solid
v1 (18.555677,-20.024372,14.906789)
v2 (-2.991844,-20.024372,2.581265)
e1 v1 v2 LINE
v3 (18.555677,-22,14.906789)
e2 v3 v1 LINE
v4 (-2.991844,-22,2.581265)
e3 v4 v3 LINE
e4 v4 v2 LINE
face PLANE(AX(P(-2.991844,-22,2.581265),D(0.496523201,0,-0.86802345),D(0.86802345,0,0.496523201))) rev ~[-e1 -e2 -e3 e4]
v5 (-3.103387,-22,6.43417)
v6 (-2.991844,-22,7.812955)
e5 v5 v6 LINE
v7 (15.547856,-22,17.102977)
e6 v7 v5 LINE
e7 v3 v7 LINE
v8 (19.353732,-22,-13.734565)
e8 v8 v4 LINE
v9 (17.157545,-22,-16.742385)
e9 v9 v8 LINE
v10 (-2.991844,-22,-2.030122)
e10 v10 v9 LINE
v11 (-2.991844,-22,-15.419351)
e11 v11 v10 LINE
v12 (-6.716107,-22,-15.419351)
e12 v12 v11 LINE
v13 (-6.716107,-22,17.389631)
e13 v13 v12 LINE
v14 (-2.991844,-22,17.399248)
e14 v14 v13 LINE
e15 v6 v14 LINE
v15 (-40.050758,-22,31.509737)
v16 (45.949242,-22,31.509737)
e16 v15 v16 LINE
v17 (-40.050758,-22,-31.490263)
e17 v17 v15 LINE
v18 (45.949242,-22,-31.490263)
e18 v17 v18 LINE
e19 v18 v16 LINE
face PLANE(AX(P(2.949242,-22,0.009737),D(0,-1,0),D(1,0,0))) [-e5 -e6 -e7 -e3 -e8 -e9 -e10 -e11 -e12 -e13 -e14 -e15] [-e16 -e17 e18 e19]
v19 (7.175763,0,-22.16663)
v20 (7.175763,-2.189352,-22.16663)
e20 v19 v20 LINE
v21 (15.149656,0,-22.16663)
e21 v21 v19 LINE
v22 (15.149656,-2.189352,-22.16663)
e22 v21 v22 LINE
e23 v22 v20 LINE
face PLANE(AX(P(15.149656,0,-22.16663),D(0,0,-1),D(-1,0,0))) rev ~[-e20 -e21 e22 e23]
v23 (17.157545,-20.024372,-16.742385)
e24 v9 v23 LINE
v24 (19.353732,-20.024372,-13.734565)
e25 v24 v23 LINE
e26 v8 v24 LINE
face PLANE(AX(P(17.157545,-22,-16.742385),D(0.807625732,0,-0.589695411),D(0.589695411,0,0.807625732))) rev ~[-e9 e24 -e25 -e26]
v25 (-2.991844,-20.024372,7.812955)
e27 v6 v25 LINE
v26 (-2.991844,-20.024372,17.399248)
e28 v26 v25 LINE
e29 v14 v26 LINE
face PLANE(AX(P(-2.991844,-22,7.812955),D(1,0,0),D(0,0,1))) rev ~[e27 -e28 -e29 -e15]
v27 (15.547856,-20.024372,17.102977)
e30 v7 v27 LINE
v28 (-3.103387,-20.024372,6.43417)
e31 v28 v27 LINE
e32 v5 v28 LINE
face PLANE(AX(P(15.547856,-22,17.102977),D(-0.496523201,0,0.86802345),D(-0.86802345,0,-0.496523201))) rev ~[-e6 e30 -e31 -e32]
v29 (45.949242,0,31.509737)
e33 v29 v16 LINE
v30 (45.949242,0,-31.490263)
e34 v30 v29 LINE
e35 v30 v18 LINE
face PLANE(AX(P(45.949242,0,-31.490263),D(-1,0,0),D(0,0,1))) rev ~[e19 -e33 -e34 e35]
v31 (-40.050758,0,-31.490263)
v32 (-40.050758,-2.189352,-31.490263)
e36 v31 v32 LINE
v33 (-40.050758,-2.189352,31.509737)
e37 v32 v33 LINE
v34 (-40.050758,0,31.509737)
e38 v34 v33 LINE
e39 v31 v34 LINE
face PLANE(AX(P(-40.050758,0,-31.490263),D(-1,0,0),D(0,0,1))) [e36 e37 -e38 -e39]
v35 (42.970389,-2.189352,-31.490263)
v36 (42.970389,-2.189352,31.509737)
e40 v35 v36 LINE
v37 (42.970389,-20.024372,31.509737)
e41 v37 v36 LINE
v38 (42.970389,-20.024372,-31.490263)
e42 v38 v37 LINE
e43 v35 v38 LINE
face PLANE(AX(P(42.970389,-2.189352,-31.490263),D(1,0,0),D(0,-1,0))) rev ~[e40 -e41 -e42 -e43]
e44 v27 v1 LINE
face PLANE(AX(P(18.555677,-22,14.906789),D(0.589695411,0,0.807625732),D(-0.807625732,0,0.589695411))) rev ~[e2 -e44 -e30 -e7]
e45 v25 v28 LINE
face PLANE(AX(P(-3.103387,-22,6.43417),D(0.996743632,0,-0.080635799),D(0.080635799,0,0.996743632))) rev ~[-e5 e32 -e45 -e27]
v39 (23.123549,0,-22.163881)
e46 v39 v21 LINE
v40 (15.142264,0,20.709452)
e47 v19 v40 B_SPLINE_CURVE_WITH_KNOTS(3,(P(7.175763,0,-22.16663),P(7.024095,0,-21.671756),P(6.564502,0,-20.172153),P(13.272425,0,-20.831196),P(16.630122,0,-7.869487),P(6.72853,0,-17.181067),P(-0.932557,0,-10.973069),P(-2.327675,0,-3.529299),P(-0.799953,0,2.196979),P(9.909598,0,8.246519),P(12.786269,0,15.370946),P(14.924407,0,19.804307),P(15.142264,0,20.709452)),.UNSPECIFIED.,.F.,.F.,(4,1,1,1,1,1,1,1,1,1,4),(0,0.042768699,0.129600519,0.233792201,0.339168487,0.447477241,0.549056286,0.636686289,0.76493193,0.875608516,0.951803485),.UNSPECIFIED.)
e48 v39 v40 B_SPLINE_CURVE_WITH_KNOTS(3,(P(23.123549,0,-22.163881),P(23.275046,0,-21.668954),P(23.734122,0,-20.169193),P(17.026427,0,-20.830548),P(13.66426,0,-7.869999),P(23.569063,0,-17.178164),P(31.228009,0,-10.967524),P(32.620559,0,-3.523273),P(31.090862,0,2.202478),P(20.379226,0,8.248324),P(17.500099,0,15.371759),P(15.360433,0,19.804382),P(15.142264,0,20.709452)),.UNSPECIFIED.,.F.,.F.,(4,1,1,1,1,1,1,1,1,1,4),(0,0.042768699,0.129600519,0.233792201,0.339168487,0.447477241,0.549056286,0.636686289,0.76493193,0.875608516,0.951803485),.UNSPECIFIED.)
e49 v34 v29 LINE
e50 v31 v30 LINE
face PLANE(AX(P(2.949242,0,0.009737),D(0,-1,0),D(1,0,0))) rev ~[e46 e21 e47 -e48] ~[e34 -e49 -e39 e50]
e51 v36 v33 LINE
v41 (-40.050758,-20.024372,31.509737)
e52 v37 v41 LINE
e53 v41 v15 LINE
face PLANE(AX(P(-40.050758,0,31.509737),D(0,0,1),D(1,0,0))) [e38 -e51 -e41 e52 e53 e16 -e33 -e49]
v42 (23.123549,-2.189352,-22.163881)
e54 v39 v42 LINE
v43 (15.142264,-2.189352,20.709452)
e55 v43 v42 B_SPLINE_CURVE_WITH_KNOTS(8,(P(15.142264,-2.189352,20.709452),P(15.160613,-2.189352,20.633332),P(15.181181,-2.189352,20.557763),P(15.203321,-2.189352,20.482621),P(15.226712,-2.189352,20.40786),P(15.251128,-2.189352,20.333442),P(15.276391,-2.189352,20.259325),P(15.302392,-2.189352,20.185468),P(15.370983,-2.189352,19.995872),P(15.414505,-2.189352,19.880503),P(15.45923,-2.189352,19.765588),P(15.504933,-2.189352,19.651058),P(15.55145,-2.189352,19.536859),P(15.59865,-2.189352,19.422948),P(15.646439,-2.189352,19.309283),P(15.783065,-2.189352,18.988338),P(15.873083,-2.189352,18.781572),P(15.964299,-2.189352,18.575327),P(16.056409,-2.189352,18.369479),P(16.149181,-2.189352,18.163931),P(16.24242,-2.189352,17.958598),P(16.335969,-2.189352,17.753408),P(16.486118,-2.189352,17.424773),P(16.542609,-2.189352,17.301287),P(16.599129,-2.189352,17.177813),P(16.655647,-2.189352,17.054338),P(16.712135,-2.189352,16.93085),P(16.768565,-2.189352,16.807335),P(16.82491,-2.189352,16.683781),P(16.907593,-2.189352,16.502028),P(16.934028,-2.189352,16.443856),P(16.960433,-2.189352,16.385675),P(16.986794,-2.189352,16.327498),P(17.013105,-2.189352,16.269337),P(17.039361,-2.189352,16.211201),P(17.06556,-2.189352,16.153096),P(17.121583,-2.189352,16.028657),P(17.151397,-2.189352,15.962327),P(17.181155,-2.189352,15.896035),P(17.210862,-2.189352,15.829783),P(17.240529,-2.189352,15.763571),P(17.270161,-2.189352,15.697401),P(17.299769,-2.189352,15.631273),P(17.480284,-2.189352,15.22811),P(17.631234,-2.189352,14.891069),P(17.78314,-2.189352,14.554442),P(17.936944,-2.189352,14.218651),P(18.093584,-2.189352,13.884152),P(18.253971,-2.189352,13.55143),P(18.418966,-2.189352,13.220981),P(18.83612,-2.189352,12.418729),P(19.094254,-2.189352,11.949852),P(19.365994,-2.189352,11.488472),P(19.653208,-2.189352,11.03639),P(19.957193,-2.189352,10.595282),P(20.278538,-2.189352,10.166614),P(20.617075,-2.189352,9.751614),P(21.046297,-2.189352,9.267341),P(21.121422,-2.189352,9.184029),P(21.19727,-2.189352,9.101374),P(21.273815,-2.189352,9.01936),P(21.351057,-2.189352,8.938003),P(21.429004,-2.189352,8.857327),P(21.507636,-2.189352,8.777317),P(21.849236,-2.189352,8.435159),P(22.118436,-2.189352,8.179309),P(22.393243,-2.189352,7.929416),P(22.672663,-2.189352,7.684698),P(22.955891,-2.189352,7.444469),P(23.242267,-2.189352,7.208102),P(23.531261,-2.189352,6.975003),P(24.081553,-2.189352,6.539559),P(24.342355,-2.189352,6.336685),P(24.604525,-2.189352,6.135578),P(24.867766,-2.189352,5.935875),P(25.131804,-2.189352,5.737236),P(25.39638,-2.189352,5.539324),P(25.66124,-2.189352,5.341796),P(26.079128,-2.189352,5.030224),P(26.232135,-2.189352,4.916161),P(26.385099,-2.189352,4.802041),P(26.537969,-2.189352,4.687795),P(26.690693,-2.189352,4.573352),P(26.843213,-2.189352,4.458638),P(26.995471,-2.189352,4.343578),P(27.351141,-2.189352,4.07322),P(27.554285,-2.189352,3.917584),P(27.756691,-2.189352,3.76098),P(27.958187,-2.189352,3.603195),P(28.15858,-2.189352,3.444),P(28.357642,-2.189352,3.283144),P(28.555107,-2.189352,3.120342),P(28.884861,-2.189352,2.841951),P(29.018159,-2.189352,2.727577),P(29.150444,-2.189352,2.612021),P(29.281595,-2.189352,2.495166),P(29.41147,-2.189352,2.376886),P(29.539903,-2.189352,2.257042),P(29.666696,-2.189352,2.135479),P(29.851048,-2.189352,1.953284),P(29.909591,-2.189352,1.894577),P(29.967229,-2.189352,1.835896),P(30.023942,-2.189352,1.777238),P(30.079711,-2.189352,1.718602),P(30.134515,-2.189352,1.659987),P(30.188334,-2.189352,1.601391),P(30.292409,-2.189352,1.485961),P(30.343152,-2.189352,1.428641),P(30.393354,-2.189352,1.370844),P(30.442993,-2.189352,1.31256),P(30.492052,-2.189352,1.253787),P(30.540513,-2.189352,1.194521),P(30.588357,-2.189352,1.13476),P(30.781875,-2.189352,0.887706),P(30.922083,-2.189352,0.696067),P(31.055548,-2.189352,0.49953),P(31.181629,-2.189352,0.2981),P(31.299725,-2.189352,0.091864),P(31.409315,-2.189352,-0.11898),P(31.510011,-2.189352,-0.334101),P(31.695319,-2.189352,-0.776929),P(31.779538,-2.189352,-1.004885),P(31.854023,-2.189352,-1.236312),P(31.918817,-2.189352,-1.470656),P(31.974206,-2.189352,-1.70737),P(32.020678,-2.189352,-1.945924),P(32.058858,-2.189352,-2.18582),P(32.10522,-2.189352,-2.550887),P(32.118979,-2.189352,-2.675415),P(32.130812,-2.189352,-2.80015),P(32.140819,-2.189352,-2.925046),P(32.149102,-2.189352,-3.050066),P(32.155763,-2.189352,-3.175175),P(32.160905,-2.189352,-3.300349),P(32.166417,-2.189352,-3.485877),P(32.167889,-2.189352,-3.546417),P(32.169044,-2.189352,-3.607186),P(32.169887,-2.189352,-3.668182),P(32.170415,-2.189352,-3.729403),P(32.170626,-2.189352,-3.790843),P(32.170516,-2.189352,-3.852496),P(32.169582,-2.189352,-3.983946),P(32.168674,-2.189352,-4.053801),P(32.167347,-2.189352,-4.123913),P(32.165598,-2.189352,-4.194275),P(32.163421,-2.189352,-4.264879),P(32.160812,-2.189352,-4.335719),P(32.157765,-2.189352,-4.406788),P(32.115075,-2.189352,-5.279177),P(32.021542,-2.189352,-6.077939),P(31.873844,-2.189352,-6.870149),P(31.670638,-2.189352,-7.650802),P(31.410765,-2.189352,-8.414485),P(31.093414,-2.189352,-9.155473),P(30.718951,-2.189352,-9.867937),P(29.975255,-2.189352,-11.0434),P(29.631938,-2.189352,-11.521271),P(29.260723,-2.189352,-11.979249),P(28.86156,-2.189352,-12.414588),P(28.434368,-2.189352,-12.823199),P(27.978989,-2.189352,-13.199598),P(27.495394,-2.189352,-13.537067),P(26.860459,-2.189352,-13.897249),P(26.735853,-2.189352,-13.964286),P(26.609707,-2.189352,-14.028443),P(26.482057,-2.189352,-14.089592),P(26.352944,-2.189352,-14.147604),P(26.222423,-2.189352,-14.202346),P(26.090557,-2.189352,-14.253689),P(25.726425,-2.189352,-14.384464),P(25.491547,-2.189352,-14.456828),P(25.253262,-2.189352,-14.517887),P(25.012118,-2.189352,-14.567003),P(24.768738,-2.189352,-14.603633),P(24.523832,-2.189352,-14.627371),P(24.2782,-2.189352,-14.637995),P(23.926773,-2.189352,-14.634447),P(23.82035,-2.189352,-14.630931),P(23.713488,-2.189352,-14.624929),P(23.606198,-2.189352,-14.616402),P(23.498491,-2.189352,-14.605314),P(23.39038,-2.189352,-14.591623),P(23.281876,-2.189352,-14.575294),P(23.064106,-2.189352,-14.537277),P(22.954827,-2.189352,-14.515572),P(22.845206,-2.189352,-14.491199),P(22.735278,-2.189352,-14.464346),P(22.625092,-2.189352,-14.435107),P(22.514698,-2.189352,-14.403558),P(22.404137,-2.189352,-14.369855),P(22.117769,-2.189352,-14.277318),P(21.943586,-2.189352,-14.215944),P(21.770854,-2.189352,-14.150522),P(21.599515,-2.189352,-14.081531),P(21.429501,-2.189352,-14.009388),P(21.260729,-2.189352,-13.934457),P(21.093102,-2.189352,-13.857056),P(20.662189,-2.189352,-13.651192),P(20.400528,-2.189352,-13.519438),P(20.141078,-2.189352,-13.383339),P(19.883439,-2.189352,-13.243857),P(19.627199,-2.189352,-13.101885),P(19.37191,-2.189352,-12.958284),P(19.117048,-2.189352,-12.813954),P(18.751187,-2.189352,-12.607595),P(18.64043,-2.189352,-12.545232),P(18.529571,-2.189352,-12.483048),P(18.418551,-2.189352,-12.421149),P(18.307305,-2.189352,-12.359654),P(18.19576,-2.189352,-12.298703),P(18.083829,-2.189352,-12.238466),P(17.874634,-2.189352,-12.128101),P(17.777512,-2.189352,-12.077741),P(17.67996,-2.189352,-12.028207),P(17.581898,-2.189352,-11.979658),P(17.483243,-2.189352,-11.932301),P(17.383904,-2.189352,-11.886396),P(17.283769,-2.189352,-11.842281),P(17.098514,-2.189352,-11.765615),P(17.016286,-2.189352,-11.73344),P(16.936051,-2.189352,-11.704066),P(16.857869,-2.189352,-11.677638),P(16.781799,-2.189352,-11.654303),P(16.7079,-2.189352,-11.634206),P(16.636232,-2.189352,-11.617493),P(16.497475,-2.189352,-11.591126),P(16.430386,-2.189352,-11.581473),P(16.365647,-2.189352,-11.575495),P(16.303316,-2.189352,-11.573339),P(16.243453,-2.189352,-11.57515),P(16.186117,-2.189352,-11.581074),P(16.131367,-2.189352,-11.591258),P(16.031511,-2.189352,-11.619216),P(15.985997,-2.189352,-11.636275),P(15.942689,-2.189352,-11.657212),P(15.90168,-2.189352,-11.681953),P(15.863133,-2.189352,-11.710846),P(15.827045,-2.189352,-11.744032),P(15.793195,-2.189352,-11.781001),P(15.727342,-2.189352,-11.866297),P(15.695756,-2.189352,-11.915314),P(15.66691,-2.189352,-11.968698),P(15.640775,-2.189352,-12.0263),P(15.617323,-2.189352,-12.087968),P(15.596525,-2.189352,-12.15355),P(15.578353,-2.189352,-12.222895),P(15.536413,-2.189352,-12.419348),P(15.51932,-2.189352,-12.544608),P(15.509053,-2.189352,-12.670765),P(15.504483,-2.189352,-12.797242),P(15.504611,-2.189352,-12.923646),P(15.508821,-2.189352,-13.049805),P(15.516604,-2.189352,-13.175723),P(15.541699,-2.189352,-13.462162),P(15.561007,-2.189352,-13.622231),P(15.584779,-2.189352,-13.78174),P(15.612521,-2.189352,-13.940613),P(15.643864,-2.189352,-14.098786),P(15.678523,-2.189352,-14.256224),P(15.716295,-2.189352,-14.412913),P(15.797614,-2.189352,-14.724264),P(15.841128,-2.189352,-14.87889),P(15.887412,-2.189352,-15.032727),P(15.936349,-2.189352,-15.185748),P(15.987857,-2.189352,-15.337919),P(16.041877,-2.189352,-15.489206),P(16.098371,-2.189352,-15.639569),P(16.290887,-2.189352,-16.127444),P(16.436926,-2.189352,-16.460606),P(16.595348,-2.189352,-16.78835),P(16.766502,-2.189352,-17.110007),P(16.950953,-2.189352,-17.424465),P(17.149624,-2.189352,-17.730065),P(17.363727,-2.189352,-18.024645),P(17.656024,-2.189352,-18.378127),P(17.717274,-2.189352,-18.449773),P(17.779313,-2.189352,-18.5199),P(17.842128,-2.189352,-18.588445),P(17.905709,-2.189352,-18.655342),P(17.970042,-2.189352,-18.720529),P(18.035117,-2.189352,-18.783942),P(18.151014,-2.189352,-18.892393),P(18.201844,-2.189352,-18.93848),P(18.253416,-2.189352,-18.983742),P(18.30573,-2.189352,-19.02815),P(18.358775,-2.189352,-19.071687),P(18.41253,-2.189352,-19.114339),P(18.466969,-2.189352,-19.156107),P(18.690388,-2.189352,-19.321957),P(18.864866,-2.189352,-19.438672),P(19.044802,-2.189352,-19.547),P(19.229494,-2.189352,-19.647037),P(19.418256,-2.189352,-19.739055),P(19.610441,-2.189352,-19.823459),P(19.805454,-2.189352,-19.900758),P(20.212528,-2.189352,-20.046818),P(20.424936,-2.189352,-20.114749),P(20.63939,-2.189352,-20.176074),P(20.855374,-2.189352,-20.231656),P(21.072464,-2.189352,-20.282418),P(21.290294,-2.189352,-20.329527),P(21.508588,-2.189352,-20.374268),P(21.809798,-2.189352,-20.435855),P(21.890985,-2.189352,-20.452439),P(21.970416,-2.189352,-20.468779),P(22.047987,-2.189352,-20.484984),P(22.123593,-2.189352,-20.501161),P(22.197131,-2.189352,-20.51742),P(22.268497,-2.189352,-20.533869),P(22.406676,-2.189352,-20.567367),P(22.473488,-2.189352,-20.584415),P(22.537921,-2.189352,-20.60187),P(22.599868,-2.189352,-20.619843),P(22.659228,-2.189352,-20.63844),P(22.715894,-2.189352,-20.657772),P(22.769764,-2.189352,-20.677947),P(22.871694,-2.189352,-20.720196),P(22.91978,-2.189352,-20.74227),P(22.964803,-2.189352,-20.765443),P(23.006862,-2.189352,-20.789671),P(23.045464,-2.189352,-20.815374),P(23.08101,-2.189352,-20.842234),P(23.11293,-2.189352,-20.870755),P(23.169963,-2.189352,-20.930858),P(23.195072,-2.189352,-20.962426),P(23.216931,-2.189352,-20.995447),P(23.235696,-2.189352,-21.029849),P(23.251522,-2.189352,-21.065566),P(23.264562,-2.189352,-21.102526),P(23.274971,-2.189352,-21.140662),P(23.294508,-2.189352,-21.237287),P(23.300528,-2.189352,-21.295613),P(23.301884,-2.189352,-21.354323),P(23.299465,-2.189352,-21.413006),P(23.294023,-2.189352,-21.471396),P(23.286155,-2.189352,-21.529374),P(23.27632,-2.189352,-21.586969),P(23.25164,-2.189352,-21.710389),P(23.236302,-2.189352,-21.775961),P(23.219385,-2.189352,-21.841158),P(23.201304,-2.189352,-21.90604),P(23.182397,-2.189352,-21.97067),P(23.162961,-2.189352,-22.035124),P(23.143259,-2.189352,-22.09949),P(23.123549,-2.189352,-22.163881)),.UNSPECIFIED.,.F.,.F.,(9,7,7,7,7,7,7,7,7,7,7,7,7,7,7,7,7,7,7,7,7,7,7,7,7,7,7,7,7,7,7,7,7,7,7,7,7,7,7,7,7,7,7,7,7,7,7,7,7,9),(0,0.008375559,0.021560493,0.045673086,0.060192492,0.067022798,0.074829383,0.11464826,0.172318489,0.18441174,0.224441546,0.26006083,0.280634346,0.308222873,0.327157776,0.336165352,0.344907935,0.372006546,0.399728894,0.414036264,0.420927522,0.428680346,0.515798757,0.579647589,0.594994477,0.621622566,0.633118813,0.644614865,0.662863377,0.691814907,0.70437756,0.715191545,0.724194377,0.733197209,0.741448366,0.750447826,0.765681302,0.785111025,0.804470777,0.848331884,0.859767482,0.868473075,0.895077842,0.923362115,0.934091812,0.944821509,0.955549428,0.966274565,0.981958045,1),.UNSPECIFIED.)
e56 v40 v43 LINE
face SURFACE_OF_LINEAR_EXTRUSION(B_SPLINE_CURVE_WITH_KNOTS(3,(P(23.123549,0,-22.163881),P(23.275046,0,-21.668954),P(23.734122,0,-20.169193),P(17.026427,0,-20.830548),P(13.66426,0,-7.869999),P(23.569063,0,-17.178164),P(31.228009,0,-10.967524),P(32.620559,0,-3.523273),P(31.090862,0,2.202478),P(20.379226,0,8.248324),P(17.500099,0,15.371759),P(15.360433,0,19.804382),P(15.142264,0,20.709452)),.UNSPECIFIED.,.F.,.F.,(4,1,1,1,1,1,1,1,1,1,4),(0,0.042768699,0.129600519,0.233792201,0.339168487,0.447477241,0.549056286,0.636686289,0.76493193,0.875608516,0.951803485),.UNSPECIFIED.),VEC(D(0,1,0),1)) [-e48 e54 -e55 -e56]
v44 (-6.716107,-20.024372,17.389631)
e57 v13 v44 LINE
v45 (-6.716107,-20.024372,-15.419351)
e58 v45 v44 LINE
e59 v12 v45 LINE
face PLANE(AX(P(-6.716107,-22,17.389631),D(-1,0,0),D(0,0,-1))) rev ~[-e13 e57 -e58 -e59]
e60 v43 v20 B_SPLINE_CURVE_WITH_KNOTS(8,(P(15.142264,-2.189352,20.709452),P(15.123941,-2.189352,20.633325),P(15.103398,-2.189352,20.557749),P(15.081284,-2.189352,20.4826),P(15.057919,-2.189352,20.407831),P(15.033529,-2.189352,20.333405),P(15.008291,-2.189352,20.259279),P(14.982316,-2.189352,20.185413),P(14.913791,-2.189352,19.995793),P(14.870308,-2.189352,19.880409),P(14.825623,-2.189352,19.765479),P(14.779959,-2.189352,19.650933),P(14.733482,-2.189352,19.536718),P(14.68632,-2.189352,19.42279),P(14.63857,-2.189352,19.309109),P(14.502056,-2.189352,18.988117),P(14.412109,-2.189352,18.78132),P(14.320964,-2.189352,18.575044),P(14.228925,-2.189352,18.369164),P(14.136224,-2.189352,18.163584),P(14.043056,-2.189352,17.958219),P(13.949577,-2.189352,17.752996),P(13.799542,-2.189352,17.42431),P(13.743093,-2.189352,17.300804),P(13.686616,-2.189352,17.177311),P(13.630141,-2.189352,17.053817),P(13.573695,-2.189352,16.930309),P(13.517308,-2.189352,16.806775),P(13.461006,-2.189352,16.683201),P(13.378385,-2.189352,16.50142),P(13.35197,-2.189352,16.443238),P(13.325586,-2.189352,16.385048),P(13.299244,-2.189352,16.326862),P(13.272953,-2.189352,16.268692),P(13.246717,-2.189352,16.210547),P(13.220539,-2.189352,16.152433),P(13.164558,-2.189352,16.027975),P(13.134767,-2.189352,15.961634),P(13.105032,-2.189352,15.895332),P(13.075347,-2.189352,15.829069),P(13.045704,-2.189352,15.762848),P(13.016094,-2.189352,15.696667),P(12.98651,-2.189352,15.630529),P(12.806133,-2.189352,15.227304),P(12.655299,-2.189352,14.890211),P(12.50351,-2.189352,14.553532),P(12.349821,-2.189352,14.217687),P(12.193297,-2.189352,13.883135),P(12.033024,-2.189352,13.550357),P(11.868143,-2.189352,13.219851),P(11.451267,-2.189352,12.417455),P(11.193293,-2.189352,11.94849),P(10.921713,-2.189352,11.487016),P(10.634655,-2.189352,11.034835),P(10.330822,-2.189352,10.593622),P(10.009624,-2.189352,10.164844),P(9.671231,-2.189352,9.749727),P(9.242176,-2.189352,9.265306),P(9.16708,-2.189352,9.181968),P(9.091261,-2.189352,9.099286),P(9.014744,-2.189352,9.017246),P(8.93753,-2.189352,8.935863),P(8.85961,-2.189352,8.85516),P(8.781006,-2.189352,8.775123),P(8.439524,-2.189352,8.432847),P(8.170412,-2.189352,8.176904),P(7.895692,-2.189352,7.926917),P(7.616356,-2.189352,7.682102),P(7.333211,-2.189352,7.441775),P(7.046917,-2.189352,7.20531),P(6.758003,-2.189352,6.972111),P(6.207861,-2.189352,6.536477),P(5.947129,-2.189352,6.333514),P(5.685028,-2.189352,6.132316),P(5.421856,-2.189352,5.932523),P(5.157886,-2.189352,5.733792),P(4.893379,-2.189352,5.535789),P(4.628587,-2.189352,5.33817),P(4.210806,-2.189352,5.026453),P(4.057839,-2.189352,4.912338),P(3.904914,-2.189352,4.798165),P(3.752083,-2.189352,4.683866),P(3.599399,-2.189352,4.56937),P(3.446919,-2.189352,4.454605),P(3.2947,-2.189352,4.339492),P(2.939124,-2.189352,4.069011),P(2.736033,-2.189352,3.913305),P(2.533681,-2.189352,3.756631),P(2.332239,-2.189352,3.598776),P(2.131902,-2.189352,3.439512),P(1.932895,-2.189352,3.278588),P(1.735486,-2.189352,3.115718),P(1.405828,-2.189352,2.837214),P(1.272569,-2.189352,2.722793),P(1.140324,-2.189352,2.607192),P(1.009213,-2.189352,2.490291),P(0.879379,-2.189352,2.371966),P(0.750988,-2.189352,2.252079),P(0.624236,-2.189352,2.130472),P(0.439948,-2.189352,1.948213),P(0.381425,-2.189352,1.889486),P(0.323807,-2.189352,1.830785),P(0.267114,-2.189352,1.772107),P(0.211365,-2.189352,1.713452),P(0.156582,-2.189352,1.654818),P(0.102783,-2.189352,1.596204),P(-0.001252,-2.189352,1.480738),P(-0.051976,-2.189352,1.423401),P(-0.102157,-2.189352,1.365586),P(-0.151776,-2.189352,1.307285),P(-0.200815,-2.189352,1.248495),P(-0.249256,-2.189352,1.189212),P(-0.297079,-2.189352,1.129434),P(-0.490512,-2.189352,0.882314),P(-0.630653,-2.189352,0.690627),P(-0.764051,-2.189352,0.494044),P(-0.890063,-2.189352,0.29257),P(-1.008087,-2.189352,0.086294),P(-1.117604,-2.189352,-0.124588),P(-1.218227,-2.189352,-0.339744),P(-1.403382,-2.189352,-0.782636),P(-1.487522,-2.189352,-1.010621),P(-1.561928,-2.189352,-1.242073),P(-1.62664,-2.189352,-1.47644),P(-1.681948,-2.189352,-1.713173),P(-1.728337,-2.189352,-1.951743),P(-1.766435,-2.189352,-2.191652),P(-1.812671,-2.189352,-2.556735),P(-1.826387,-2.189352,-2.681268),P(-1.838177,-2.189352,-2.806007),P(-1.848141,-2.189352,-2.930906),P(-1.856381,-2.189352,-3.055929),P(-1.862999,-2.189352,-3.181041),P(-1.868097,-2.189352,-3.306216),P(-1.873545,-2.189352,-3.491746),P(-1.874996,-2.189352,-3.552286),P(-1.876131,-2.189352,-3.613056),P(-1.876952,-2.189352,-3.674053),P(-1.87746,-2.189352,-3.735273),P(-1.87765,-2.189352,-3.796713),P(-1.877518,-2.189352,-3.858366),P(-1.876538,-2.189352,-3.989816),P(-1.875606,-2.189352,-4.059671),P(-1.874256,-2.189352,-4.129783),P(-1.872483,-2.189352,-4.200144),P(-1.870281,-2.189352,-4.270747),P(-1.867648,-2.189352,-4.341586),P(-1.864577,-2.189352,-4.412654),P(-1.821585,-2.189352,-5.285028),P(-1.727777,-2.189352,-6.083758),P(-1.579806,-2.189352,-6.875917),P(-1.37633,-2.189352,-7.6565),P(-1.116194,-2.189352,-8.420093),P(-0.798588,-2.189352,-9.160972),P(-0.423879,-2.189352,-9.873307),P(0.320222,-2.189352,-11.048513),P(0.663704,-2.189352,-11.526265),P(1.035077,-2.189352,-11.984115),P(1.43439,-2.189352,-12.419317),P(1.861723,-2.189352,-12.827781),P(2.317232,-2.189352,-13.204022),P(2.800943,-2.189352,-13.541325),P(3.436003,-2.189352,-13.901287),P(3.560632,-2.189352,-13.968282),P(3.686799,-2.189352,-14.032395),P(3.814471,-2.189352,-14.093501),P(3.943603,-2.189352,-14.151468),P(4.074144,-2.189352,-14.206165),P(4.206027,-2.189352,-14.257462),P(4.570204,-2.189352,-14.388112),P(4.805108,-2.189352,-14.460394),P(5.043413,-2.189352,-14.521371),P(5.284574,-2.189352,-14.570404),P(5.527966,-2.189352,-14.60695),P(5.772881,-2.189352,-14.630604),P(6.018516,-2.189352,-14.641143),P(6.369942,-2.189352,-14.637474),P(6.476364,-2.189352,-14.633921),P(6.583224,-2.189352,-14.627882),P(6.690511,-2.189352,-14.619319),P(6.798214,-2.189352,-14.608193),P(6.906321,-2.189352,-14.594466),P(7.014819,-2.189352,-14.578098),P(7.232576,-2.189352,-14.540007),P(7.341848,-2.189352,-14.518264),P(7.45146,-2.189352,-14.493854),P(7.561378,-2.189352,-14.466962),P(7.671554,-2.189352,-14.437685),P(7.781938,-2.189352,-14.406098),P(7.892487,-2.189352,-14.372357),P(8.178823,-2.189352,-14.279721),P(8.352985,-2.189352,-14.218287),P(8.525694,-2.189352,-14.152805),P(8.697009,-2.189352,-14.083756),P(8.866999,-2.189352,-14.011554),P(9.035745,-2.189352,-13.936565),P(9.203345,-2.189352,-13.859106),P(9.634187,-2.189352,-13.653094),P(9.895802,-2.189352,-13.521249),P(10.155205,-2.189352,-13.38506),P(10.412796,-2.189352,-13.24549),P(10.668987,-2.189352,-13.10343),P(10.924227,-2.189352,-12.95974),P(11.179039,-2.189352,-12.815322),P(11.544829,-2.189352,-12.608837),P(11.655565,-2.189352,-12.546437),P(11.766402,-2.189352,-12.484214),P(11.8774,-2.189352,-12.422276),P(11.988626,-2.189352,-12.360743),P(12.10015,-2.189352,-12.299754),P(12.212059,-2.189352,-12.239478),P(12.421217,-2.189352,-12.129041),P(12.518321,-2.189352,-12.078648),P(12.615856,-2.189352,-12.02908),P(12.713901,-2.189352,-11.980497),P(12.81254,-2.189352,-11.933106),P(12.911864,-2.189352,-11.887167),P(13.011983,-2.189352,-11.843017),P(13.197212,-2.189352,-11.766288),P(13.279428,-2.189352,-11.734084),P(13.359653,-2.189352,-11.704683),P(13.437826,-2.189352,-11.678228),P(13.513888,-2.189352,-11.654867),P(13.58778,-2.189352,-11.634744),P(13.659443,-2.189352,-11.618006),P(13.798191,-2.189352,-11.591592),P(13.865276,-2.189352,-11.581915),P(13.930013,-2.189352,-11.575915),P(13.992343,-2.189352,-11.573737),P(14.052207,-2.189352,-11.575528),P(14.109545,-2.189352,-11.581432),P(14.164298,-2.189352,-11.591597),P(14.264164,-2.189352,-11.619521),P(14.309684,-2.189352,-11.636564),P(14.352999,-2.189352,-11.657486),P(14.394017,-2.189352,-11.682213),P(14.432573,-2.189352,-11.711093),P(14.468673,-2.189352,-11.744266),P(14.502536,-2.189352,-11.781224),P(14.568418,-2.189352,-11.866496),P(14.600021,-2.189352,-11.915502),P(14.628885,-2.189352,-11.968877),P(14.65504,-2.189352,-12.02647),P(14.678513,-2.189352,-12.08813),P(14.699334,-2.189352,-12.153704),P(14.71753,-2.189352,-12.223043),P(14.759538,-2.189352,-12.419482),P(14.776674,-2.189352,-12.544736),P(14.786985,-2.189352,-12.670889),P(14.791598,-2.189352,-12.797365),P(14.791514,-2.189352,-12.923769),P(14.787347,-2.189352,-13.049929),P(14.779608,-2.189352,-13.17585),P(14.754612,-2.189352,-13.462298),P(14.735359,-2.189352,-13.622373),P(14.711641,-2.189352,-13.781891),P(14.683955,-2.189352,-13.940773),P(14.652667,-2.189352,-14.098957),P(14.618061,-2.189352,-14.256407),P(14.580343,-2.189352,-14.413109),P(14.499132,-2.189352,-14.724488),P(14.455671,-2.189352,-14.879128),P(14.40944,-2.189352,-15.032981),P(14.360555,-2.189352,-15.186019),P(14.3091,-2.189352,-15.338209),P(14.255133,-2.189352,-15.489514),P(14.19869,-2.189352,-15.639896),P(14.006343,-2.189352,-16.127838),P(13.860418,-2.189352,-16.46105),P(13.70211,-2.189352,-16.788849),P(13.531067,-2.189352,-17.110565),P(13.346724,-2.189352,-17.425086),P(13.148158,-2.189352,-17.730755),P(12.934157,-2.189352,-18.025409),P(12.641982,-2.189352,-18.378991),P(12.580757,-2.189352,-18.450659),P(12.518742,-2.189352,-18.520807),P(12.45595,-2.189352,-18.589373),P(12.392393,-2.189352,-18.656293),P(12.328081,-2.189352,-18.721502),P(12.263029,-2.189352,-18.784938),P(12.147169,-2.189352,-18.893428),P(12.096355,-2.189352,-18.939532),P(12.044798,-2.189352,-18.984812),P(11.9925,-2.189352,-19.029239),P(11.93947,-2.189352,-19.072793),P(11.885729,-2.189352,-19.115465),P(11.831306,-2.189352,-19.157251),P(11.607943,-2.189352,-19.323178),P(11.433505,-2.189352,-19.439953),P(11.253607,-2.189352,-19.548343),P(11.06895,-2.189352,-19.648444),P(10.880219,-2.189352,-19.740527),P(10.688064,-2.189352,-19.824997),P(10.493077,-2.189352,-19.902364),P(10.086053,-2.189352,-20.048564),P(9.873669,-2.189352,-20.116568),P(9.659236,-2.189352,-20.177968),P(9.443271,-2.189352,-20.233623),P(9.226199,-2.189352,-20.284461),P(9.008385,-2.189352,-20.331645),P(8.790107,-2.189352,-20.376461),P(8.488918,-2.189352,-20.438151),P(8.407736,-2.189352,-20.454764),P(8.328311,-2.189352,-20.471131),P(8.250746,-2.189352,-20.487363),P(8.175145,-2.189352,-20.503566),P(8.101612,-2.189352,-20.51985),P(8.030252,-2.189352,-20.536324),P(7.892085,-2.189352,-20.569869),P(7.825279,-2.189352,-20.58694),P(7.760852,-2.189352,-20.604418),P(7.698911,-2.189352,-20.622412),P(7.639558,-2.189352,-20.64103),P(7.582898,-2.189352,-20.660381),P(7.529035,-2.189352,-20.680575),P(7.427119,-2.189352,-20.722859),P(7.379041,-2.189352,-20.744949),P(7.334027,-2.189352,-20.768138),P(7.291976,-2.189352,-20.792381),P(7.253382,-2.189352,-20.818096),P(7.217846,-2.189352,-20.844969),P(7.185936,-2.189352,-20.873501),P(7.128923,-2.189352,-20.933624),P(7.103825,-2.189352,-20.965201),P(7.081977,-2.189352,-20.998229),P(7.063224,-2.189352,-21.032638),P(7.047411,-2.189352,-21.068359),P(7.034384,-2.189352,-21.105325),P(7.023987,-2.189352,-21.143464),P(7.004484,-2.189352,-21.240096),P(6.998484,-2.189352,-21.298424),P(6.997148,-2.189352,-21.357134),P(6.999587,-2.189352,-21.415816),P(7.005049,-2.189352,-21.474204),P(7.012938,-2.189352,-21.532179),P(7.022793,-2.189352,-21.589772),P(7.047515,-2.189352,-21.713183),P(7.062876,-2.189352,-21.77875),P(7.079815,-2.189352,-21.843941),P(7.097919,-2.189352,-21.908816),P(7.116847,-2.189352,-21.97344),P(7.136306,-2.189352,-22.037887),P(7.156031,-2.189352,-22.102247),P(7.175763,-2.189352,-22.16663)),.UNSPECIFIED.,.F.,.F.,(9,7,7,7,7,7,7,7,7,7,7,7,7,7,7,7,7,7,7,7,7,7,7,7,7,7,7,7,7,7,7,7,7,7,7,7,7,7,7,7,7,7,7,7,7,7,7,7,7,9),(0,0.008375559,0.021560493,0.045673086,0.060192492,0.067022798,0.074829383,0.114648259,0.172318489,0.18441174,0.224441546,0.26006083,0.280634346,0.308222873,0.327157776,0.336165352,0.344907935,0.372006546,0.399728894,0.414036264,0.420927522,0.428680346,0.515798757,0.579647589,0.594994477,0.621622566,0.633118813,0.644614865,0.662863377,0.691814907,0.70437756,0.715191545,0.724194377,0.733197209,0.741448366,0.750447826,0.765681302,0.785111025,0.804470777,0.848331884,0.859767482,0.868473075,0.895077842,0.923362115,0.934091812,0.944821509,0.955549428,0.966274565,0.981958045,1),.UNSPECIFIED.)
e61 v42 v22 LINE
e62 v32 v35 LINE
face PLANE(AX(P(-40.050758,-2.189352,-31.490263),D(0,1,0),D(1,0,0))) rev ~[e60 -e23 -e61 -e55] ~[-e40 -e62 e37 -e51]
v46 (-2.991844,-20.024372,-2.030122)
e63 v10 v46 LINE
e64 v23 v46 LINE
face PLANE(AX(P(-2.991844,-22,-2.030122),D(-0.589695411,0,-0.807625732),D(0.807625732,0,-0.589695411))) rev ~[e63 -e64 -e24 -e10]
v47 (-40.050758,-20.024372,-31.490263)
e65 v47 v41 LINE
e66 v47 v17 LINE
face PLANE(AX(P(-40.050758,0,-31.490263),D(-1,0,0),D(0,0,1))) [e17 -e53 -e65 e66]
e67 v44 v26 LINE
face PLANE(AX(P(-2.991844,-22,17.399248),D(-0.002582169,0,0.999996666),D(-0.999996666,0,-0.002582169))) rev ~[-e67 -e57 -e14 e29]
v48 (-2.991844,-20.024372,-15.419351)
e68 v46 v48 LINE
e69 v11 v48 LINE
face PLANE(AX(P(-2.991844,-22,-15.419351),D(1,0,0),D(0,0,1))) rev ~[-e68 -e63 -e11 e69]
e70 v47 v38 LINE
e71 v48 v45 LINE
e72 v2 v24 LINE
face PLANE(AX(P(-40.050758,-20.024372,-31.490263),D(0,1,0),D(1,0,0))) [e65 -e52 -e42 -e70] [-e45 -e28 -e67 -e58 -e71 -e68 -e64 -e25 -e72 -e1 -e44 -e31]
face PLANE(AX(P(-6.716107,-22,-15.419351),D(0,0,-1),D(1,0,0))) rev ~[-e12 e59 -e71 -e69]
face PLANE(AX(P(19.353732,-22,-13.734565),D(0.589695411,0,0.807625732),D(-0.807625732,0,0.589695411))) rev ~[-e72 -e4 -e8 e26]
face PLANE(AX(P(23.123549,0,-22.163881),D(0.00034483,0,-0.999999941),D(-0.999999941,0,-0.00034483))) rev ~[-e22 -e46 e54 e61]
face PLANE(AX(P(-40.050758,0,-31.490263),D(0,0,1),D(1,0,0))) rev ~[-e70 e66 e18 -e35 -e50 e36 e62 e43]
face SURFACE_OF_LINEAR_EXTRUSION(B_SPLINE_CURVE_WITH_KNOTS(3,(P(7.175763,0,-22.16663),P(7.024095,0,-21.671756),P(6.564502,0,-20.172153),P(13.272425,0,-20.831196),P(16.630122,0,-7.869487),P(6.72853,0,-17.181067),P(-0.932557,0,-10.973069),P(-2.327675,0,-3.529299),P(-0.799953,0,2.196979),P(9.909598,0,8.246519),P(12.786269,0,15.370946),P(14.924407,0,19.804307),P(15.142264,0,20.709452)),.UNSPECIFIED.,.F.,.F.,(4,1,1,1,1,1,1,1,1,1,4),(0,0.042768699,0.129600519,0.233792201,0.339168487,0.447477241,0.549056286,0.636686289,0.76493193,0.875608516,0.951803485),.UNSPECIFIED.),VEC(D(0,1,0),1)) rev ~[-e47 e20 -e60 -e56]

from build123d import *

# Parameters (mm, degrees)
F0_W     = 86
F0_H     = 63
F1_DEPTH = 22
F2_W     = 83.021147579
F2_H     = 17.8350203205
F3_DEPTH = 76.2
F5_DEPTH = 12.7
F7_DEPTH = 12.7


with BuildPart() as f1:
    # F0 (on Front) → F1 (new body)
    with BuildSketch(Plane.XZ):
        with Locations((2.9492415488, 0.0097374022)):
            Rectangle(F0_W, F0_H)
    extrude(amount=F1_DEPTH)

    # F2 (on face) → F3 (cut)
    with BuildSketch(Plane(origin=(0, 0, -31.4902625978), x_dir=(1, 0, 0), z_dir=(0, 0, -1))):
        with Locations((1.4598153383, 11.1068621045)):
            Rectangle(F2_W, F2_H)
    extrude(amount=-F3_DEPTH, mode=Mode.SUBTRACT)

    # F4 (on face) → F5 (cut)
    with BuildSketch(Plane(origin=(0, 0, 0), x_dir=(-1, 0, 0), z_dir=(0, 1, 0))):
        with BuildLine():
            Line((-15.1422635311, 20.7094521857), (-15.1496560163, -22.1666304386))
            Line((-15.1496560163, -22.1666304386), (-7.1757626719, -22.1666304386))
            add(Edge.make_bspline(
                [(-7.1757626719, -22.1666304386), (-7.0240950899, -21.6717555888), (-6.5645020254, -20.1721533291), (-13.2724247258, -20.8311956332), (-16.6301221041, -7.869487451), (-6.7285296104, -17.1810672319), (0.9325573177, -10.9730690732), (2.3276751638, -3.5292990134), (0.7999525604, 2.1969793638), (-9.9095984878, 8.2465186729), (-12.7862686807, 15.3709459047), (-14.9244065918, 19.8043070968), (-15.1422635311, 20.7094521857)],
                knots=[0, 0, 0, 0, 0.0427686987, 0.1296005186, 0.2337922012, 0.3391684873, 0.4474772409, 0.5490562859, 0.6366862886, 0.7649319301, 0.8756085159, 0.9518034851, 0.9518034851, 0.9518034851, 0.9518034851], degree=3))
        make_face()
        with BuildLine():
            Line((-23.1235488865, -22.163880799), (-15.1496560163, -22.1666304386))
            Line((-15.1496560163, -22.1666304386), (-15.1422635311, 20.7094521857))
            add(Edge.make_bspline(
                [(-23.1235488865, -22.163880799), (-23.2750458117, -21.6689536791), (-23.7341217407, -20.169193027), (-17.0264266968, -20.8305483864), (-13.6642599292, -7.8699988105), (-23.5690627485, -17.1781636693), (-31.2280085156, -10.9675241051), (-32.6205594418, -3.5232734091), (-31.0908623351, 2.2024778227), (-20.3792258596, 8.248323795), (-17.5000991197, 15.3717586404), (-15.3604325788, 19.8043822742), (-15.1422635311, 20.7094521857)],
                knots=[0, 0, 0, 0, 0.0427686987, 0.1296005186, 0.2337922012, 0.3391684873, 0.4474772409, 0.5490562859, 0.6366862886, 0.7649319301, 0.8756085159, 0.9518034851, 0.9518034851, 0.9518034851, 0.9518034851], degree=3))
        make_face()
    extrude(amount=-F5_DEPTH, mode=Mode.SUBTRACT)

    # F6 (on face) → F7 (cut)
    with BuildSketch(Plane.XZ.offset(22)):
        Polygon((-2.9918444343, 17.3992476049), (-6.7161070183, 17.3896308988), (-6.7161070183, -15.419350937), (-2.9918444343, -15.419350937), (-2.9918444343, -2.0301223486), (17.1575445901, -16.742385438), (19.3537324667, -13.7345651165), (-2.9918444343, 2.5812648997), (18.5556765646, 14.9067891762), (15.5478562431, 17.1029770527), (-3.1033871576, 6.4341695674), (-2.9918444343, 7.8129554167), align=None)
    extrude(amount=-F7_DEPTH, mode=Mode.SUBTRACT)


solid = f1.part
